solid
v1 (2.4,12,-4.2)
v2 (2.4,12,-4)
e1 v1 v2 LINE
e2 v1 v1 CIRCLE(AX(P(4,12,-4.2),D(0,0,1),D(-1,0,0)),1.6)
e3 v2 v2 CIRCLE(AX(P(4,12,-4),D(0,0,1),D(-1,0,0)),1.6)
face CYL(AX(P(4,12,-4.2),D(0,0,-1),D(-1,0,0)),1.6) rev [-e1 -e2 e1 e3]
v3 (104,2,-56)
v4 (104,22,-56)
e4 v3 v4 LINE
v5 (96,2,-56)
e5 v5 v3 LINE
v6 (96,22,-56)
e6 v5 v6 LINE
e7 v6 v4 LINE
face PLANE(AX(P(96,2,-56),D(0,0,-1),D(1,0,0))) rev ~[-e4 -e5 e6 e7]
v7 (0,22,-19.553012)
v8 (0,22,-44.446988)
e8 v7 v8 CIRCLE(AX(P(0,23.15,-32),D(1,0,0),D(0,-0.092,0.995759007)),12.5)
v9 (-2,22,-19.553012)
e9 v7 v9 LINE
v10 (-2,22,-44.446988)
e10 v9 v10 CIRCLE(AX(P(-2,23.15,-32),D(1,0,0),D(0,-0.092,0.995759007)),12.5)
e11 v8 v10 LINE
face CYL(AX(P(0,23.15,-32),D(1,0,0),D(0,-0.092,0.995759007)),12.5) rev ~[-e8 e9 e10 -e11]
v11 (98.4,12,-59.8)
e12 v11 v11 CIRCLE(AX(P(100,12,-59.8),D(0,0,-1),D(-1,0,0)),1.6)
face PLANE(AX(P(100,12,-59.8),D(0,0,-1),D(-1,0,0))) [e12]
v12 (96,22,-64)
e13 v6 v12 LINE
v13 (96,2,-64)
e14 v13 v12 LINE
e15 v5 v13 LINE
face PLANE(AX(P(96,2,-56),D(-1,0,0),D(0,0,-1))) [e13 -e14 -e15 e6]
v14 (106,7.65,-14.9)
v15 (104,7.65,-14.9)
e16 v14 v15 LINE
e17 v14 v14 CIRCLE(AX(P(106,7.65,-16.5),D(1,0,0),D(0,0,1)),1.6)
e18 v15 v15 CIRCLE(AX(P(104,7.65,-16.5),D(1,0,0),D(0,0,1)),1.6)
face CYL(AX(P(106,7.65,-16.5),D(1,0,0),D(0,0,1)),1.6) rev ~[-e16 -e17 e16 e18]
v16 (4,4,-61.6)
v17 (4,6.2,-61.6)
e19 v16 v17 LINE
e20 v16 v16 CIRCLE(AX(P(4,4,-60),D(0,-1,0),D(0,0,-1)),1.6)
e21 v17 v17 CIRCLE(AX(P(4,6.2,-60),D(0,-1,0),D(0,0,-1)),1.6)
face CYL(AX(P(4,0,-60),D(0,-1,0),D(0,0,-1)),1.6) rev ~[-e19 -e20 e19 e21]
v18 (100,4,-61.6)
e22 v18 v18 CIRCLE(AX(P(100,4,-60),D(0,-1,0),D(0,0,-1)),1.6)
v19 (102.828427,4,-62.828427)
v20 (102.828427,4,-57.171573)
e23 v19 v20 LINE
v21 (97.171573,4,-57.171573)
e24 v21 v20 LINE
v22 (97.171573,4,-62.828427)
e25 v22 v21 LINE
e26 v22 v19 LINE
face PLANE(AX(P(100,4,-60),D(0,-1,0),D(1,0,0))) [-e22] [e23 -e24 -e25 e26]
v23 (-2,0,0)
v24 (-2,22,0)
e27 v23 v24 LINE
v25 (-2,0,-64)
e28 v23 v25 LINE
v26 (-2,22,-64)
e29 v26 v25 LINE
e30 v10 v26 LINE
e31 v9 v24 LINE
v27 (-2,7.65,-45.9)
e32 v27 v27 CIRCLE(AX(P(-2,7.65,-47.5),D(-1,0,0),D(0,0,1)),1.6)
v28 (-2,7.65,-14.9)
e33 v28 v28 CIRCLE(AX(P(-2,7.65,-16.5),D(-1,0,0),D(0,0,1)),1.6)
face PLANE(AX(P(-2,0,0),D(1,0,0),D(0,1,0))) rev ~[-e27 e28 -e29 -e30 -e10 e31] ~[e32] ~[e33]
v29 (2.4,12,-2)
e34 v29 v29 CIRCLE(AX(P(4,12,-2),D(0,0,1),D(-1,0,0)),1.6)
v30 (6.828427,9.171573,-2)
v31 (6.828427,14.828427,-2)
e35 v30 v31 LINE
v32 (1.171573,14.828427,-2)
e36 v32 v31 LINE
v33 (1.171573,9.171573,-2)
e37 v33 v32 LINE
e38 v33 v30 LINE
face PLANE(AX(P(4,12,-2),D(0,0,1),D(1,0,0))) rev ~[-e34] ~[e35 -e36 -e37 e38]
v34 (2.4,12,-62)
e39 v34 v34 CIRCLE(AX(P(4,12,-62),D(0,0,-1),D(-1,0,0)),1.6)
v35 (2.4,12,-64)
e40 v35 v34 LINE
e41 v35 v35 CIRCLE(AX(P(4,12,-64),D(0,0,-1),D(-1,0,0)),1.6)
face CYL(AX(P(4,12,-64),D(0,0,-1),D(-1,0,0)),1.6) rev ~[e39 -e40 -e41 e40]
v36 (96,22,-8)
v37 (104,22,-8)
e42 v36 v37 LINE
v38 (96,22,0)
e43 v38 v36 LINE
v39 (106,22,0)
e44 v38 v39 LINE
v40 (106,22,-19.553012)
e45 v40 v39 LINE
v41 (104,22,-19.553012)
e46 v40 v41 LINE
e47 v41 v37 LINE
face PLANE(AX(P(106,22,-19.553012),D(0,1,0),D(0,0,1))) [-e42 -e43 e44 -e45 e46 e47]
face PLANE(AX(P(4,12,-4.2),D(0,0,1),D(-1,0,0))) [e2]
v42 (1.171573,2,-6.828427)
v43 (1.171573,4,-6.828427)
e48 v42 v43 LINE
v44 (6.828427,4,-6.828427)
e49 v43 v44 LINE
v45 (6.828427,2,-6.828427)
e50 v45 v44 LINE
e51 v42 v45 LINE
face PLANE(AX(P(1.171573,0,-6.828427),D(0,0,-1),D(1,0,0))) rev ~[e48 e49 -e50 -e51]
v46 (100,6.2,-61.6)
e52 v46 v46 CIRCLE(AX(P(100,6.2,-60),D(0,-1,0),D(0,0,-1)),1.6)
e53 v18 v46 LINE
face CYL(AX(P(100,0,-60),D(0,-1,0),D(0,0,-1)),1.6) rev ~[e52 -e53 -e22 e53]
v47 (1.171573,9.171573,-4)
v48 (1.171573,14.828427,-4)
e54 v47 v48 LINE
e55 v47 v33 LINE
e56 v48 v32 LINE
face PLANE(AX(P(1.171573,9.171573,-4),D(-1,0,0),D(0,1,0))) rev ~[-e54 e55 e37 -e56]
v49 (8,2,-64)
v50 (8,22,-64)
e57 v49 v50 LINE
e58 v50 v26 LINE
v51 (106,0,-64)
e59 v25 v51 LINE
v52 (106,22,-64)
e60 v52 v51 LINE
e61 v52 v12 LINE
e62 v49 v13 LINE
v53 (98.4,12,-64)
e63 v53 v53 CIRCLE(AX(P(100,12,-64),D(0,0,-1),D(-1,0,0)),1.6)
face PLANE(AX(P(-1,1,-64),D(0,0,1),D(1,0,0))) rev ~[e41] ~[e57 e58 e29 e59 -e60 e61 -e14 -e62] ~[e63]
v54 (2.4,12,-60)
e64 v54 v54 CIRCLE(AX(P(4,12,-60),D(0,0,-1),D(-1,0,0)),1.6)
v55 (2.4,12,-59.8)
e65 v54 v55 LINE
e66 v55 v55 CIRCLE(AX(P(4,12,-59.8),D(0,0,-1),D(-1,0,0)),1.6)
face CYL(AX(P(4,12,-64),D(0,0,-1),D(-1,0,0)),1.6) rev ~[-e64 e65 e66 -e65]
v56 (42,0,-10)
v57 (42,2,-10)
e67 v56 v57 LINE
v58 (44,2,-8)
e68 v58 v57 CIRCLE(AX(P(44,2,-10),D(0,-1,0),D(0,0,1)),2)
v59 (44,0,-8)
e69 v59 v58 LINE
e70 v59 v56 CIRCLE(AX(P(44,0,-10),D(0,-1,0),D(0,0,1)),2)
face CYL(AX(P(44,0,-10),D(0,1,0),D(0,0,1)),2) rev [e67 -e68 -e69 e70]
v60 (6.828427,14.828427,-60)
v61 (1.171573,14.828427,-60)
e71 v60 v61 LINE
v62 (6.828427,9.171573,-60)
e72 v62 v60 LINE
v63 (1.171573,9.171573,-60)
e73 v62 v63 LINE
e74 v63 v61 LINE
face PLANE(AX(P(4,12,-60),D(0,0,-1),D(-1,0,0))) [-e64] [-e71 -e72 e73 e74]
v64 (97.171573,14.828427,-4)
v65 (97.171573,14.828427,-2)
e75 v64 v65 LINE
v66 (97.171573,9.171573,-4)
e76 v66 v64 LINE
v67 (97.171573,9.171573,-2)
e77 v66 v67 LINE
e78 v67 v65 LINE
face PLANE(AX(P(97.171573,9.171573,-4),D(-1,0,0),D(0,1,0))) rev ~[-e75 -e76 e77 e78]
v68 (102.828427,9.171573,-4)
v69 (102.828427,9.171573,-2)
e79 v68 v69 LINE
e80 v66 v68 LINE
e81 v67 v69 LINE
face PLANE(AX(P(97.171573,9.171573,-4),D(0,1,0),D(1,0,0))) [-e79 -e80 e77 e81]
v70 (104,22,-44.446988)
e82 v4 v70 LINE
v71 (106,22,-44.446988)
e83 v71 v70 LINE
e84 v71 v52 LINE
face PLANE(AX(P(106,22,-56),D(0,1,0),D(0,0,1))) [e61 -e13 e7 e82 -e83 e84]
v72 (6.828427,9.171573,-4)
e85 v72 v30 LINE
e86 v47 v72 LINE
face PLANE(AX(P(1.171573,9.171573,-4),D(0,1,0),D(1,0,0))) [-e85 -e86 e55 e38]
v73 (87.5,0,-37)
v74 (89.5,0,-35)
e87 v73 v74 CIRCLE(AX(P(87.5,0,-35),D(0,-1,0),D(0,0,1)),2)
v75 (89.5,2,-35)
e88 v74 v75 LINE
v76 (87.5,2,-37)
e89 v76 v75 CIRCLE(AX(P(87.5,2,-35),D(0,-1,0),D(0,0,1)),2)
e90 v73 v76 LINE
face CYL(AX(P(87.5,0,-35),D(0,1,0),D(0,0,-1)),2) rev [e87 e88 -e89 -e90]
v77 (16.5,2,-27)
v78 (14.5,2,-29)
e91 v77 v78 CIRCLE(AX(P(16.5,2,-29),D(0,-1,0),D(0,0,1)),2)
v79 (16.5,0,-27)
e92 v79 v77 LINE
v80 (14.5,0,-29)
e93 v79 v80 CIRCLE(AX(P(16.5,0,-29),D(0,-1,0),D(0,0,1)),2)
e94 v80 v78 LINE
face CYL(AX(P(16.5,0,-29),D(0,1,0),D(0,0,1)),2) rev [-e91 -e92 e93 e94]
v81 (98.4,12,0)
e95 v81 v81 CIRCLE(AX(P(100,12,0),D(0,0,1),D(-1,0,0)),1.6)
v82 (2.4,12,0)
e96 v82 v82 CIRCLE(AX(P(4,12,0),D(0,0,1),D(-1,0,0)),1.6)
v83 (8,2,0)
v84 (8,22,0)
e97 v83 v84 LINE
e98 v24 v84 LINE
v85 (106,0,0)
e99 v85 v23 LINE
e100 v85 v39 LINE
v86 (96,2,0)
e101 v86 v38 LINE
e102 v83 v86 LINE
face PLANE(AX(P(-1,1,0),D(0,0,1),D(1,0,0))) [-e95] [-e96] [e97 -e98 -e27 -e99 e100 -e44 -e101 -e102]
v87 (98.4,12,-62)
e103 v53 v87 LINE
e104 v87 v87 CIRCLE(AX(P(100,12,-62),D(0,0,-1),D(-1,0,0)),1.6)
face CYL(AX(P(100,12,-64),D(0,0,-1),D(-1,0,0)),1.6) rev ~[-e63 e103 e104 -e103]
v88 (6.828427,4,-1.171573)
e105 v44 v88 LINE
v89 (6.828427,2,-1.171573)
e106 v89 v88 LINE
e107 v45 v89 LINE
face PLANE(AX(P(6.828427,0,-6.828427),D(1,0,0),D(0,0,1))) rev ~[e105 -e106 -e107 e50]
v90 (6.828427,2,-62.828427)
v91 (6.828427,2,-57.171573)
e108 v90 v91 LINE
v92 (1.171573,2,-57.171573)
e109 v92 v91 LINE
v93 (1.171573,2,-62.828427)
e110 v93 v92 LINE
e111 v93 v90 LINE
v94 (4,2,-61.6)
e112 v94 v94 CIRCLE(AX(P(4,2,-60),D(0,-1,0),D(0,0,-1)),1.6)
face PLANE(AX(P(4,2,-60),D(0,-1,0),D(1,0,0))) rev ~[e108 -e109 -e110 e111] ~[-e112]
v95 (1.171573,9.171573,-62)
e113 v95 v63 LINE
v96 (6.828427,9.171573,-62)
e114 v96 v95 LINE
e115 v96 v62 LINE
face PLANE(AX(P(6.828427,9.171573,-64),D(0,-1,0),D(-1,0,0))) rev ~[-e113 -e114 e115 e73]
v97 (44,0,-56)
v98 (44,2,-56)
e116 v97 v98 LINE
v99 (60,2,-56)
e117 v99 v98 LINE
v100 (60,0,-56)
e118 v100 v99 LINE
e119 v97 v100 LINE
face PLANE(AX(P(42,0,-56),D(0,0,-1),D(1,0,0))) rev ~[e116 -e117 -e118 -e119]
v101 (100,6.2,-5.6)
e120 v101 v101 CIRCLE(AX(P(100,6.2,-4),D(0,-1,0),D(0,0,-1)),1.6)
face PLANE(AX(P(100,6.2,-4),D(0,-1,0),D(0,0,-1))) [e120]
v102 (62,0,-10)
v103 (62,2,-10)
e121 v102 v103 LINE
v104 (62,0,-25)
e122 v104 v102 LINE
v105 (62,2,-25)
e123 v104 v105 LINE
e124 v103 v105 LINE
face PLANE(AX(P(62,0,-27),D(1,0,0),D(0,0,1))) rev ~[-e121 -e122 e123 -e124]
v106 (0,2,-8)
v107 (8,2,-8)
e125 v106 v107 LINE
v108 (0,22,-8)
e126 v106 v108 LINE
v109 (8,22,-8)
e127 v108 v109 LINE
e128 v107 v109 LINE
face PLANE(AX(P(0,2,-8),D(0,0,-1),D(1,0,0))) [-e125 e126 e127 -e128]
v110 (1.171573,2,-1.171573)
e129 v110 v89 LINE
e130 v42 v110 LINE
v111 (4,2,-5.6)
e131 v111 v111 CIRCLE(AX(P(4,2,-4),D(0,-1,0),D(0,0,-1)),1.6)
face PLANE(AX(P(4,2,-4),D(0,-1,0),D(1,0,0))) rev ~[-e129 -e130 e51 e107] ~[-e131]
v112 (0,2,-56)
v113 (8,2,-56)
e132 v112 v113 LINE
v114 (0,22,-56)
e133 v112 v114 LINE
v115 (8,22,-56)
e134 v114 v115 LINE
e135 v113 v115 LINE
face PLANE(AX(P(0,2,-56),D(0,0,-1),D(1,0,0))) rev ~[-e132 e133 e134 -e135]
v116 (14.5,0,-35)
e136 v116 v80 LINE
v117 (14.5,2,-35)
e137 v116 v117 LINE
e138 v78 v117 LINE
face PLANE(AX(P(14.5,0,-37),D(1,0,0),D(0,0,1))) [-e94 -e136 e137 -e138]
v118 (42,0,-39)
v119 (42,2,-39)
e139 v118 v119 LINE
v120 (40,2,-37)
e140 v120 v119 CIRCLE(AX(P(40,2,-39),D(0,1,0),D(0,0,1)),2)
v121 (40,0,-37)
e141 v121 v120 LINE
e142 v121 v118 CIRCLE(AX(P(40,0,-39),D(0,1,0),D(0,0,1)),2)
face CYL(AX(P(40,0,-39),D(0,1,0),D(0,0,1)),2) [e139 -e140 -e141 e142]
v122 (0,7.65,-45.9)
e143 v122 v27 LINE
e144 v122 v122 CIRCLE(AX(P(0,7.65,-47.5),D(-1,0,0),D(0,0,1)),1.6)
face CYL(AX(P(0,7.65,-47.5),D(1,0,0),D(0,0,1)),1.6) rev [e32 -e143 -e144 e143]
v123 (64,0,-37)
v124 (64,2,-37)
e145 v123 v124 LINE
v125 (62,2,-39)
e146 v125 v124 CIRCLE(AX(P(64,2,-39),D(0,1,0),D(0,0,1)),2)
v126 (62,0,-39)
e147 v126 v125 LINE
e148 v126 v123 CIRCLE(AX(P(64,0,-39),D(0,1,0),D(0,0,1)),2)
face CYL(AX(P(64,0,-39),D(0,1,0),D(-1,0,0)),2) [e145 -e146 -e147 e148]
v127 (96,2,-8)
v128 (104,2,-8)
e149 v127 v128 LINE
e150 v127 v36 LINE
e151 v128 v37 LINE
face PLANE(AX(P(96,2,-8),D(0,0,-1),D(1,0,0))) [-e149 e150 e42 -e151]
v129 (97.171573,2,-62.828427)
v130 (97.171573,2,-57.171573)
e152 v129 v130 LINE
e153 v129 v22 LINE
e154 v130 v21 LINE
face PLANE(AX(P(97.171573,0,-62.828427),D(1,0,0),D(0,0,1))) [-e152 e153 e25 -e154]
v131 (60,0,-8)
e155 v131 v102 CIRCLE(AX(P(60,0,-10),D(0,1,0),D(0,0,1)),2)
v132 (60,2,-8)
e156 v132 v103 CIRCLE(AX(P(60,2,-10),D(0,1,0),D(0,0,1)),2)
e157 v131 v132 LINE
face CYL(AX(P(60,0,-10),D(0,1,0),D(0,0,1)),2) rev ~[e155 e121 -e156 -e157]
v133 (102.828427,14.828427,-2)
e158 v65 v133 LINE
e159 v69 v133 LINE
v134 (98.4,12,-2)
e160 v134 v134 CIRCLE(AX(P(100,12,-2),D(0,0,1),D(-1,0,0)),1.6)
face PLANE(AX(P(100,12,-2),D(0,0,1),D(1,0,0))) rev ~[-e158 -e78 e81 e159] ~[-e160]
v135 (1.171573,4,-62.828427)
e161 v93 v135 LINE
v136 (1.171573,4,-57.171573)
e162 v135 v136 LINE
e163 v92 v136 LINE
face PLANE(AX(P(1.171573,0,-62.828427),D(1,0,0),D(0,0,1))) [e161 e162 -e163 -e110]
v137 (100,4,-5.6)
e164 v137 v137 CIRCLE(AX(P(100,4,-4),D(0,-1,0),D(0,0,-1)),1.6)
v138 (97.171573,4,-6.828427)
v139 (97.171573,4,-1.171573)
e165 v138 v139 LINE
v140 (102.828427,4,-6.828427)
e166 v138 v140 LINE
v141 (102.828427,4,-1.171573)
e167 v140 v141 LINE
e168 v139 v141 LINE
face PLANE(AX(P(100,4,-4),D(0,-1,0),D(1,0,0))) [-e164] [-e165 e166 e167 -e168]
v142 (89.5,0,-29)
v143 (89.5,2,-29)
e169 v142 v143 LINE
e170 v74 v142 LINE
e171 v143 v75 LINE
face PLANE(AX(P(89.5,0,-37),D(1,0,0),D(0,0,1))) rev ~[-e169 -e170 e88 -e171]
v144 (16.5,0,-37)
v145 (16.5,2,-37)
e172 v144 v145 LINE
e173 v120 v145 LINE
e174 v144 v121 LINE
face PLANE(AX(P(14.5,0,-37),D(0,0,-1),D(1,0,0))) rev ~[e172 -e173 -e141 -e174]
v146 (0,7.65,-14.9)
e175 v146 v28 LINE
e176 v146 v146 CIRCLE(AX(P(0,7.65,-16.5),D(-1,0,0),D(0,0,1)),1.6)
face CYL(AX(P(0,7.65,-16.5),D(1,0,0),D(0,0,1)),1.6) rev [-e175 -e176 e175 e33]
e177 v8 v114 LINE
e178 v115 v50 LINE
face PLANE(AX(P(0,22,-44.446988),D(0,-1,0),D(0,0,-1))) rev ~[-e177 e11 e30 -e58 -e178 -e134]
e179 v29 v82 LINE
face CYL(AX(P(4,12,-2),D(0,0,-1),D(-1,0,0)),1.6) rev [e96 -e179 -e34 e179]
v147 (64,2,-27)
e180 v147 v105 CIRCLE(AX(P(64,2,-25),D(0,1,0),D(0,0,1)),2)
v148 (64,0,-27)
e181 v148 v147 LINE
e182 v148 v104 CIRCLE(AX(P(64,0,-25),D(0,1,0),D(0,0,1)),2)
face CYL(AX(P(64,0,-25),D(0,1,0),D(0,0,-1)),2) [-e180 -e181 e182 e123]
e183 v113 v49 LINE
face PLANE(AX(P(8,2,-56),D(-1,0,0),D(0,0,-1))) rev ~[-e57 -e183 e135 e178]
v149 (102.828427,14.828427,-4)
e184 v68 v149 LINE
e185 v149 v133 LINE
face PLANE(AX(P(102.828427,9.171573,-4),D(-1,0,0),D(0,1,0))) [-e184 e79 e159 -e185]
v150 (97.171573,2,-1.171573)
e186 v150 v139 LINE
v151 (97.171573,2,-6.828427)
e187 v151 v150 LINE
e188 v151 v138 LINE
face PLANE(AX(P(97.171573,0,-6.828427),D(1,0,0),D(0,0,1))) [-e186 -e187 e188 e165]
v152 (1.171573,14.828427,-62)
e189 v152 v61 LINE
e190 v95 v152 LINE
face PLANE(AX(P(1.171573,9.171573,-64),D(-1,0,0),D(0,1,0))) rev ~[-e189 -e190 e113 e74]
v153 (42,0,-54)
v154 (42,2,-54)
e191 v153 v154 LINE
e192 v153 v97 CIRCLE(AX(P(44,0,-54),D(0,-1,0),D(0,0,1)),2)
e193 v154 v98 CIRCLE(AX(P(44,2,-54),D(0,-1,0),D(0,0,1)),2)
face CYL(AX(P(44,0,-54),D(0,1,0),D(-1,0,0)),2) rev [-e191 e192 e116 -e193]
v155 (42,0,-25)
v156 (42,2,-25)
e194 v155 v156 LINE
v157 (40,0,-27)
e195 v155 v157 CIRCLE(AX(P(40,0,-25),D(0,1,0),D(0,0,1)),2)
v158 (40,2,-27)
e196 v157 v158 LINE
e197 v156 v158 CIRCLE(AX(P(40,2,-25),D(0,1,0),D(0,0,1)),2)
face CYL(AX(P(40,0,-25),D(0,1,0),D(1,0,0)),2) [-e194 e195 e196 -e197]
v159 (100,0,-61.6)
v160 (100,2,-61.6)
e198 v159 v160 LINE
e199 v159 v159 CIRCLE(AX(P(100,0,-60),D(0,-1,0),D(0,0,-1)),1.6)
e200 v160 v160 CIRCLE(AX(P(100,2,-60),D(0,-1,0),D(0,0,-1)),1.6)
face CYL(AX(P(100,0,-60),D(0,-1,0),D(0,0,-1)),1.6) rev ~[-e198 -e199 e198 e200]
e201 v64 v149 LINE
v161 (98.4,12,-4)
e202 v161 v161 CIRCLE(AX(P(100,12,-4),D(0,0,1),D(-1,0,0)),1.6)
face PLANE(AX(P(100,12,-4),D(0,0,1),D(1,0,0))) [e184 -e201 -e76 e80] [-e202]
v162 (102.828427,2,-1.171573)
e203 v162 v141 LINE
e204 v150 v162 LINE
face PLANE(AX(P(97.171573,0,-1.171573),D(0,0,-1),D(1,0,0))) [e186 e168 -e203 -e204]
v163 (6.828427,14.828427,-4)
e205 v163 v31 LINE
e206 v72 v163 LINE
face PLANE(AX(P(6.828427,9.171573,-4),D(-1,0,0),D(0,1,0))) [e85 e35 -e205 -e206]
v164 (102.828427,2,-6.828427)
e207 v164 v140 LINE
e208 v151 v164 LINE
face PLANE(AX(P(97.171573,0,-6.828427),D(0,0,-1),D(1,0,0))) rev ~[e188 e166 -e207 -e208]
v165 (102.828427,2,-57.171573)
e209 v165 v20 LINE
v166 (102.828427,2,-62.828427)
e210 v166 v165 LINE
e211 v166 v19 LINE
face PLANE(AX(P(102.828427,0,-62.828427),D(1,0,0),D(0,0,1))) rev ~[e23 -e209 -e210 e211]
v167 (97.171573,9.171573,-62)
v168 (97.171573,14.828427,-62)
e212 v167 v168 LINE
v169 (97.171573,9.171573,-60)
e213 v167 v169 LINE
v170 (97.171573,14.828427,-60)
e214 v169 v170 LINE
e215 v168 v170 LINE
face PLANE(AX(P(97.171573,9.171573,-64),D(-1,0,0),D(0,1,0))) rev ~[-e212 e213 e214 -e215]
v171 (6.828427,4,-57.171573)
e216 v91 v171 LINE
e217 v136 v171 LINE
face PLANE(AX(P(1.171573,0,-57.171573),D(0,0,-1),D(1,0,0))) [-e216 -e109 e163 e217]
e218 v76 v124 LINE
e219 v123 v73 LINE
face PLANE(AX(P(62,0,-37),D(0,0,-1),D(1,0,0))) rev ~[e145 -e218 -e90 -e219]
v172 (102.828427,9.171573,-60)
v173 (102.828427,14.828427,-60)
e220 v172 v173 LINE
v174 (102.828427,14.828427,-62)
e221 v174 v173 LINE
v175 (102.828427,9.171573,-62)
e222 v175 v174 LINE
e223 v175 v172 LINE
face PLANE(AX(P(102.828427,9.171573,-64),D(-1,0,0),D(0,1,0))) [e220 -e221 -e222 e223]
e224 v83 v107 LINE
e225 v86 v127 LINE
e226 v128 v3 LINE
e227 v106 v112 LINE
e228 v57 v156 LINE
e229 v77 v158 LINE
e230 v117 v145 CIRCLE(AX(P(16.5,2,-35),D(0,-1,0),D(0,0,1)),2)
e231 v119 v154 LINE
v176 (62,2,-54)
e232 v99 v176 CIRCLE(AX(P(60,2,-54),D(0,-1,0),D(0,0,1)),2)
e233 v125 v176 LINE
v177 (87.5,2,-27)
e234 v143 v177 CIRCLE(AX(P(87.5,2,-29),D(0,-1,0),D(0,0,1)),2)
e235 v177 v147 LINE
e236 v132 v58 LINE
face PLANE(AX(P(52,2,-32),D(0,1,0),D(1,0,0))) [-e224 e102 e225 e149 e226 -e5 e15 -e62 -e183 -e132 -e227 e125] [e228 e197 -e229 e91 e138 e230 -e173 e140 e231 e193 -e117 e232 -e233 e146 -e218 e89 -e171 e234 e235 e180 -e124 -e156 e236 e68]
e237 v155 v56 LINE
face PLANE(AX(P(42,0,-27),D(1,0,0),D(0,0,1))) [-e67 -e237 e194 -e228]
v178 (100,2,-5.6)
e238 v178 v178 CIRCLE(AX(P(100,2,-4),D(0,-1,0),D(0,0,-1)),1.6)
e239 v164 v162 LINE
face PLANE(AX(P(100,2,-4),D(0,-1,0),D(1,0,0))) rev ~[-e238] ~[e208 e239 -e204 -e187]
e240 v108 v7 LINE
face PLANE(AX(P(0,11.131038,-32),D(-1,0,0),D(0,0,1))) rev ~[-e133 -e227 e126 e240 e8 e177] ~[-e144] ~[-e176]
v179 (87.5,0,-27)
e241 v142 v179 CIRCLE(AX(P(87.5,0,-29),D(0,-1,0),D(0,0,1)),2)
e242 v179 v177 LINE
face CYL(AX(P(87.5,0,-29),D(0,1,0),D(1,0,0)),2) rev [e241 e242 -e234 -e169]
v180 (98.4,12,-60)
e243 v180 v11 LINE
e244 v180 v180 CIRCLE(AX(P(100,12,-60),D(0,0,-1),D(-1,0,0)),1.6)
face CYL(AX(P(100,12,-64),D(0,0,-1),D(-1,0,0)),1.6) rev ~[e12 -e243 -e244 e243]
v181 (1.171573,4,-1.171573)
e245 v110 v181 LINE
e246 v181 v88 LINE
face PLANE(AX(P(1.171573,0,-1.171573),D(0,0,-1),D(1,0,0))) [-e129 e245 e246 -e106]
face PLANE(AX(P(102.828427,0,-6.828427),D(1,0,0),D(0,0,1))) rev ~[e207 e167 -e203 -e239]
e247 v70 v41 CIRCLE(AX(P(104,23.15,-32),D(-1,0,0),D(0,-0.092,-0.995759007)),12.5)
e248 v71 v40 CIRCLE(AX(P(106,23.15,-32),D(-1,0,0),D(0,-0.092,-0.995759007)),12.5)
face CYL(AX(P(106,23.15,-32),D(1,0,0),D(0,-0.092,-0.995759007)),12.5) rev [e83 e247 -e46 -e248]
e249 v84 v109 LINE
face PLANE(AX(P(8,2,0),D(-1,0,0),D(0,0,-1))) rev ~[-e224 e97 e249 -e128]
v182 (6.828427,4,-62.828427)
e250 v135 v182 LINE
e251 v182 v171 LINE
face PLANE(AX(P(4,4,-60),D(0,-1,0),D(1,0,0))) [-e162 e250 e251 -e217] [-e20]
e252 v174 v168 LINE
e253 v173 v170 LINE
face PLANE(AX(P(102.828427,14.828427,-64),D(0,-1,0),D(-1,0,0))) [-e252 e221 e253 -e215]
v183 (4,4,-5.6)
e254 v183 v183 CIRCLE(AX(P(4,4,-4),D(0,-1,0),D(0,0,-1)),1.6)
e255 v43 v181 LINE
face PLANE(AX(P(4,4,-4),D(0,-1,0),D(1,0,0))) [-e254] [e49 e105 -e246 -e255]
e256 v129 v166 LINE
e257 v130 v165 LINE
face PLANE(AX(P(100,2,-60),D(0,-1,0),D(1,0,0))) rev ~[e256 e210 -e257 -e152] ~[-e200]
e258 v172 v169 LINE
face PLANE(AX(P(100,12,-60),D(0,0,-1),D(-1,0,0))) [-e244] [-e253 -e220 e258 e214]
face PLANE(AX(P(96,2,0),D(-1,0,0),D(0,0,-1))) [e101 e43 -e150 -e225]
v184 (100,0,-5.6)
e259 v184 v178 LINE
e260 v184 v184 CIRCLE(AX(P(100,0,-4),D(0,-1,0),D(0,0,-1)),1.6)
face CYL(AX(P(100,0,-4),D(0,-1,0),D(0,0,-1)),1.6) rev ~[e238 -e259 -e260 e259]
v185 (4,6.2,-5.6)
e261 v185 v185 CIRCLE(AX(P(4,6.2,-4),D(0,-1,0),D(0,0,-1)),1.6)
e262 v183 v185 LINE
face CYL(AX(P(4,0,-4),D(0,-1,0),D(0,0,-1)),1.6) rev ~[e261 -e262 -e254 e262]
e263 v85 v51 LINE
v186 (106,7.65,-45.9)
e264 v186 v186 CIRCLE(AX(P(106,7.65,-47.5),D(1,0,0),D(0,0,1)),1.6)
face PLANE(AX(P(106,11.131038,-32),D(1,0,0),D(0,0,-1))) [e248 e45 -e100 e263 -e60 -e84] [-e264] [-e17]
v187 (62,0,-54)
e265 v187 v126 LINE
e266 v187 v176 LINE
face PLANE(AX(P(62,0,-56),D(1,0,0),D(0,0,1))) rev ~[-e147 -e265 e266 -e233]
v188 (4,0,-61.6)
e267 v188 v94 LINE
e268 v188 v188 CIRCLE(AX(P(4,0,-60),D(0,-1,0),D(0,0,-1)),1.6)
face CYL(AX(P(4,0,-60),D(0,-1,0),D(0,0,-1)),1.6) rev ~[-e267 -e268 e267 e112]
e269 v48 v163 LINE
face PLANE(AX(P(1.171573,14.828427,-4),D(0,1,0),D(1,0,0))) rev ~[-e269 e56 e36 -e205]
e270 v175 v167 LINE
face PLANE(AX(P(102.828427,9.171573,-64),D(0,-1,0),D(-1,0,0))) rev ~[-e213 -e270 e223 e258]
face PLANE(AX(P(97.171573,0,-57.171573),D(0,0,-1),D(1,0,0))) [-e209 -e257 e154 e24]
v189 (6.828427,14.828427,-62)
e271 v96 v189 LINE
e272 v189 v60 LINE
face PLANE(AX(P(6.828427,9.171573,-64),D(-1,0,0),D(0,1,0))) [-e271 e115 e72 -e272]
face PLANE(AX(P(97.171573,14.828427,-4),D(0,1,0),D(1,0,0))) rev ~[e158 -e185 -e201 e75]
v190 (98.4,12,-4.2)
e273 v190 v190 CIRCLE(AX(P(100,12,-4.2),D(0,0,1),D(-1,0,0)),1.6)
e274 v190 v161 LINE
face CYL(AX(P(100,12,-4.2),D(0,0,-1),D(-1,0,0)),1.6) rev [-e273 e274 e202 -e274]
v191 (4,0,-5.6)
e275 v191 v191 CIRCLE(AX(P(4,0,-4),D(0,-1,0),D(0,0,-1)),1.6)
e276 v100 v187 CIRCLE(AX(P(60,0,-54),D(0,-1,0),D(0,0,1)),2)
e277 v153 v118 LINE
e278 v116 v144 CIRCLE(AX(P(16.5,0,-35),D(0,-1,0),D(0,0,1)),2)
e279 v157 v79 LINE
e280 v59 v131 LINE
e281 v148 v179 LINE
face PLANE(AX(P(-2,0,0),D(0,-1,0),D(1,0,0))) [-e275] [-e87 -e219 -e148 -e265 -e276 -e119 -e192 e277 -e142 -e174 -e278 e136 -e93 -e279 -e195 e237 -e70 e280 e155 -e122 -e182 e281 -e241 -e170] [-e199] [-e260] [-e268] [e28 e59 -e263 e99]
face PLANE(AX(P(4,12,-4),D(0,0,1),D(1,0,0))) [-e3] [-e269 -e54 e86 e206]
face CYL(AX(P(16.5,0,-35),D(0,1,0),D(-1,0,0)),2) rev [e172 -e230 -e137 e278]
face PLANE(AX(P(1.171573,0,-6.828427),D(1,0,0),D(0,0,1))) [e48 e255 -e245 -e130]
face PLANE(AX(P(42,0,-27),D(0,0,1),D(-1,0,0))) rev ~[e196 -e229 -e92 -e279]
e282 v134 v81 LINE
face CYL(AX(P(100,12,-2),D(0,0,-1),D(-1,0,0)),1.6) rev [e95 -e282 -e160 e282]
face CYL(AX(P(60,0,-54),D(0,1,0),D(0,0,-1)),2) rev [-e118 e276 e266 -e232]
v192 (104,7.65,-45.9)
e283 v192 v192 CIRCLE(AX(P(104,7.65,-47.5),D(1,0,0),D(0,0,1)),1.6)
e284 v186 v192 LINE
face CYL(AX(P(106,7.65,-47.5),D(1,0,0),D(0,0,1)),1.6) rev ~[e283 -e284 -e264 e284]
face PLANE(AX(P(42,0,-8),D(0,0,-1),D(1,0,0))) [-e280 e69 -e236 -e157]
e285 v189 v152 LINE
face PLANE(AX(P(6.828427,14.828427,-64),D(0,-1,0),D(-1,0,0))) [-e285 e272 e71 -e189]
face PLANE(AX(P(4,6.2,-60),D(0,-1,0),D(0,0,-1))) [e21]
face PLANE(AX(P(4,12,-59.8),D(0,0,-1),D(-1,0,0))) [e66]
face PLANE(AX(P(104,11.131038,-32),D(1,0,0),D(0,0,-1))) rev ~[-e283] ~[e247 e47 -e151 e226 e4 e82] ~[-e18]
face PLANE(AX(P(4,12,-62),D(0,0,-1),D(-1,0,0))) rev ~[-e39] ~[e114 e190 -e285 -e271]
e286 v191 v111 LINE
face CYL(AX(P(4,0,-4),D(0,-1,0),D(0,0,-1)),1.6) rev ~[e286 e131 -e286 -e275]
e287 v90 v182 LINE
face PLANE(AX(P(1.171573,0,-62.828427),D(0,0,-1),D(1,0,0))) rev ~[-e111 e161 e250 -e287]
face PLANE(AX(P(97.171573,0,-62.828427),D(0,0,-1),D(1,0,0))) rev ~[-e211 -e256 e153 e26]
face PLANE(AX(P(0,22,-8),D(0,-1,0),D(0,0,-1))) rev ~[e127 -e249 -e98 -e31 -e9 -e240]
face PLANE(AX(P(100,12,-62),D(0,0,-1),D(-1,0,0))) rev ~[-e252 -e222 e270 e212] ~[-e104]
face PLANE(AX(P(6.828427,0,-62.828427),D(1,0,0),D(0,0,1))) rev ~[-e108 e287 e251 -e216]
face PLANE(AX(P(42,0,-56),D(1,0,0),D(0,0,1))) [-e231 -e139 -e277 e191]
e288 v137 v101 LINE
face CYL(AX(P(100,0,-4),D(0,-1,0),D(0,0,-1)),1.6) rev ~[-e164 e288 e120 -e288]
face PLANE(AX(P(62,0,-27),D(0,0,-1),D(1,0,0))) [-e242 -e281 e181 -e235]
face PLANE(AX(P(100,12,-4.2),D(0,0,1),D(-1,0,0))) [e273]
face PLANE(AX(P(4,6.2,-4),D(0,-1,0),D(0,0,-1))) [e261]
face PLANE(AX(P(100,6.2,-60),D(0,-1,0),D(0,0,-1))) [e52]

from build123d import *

# Parameters (mm, degrees)
SZKIC1_W                    = 104
SZKIC1_H                    = 64
DODANIE_WYCI_GNI_CIE1_DEPTH = 2
SZKIC2_W                    = 8
SZKIC2_H                    = 8
DODANIE_WYCI_GNI_CIE2_DEPTH = 20
SZKIC4_R                    = 1.6
DODANIE_WYCI_GNI_CIE3_DEPTH = 2
DODANIE_WYCI_GNI_CIE4_START = 2
SZKIC5_R                    = 1.6
DODANIE_WYCI_GNI_CIE4_DEPTH = 2
SFAZOWANIE1_SIZE            = 2
SZKIC6_W                    = 5.65685425
SZKIC6_H                    = 5.65685425
SZKIC6_R                    = 1.6
WYTNIJ_WYCI_GNI_CIE2_DEPTH  = 4
SZKIC6_AGAIN_R              = 1.6
WYTNIJ_WYCI_GNI_CIE3_DEPTH  = 6.2
DODANIE_WYCI_GNI_CIE5_DEPTH = 2
SZKIC8_W                    = 5.65685425
SZKIC8_H                    = 5.65685425
SZKIC8_R                    = 1.6
WYTNIJ_WYCI_GNI_CIE4_DEPTH  = 4
SZKIC8_2_R                  = 1.6
WYTNIJ_WYCI_GNI_CIE5_DEPTH  = 4.2
SZKIC8_3_W                  = 5.65685425
SZKIC8_3_H                  = 5.65685425
SZKIC8_3_R                  = 1.6
DODANIE_WYCI_GNI_CIE6_DEPTH = 2
WYTNIJ_WYCI_GNI_CIE6_START  = -4
SZKIC9_W                    = 5.65685425
SZKIC9_H                    = 5.65685425
SZKIC9_R                    = 1.6
WYTNIJ_WYCI_GNI_CIE6_DEPTH  = 4
WYTNIJ_WYCI_GNI_CIE7_START  = -4.2
SZKIC9_2_R                  = 1.6
WYTNIJ_WYCI_GNI_CIE7_DEPTH  = 4.2
DODANIE_WYCI_GNI_CIE7_START = -2
SZKIC9_3_W                  = 5.65685425
SZKIC9_3_H                  = 5.65685425
SZKIC9_3_R                  = 1.6
DODANIE_WYCI_GNI_CIE7_DEPTH = 2
SZKIC10_W                   = 20
SZKIC10_H                   = 10
SZKIC10_W_2                 = 27.5
SZKIC10_H_2                 = 19
WYTNIJ_WYCI_GNI_CIE8_DEPTH  = 9
SZKIC11_W                   = 2
SZKIC11_H                   = 2
DODANIE_WYCI_GNI_CIE8_DEPTH = 64
ZAOKR_GLENIE1_R             = 2


with BuildPart() as part:
    # Szkic1 → Dodanie-wyciągnięcie1 (new body)
    with BuildSketch(Plane(origin=(0, 0, 0), x_dir=(1, 0, 0), z_dir=(0, 1, 0))):
        with Locations((52, 32)):
            Rectangle(SZKIC1_W, SZKIC1_H)
    extrude(amount=DODANIE_WYCI_GNI_CIE1_DEPTH)

    # Szkic2 → Dodanie-wyciągnięcie2 (add)
    with BuildSketch(Plane(origin=(0, 2, 0), x_dir=(1, 0, 0), z_dir=(0, 1, 0))):
        with Locations((4, 60)):
            Rectangle(SZKIC2_W, SZKIC2_H)
        with Locations((4, 4)):
            Rectangle(SZKIC2_W, SZKIC2_H)
        with Locations((100, 4)):
            Rectangle(SZKIC2_W, SZKIC2_H)
        with Locations((100, 60)):
            Rectangle(SZKIC2_W, SZKIC2_H)
    extrude(amount=DODANIE_WYCI_GNI_CIE2_DEPTH)

    # Szkic4 → Dodanie-wyciągnięcie3 (add)
    # profile 1 of 2: a face of its own
    with BuildSketch(Plane.ZY):
        with BuildLine():
            Line((-8, 2), (-8, 22))
            Line((-8, 22), (-19.553012413, 22))
            ThreePointArc((-19.553012413, 22), (-32, 10.65), (-44.446987587, 22))
            Line((-44.446987587, 22), (-56, 22))
            Line((-56, 22), (-56, 2))
            Line((-56, 2), (-8, 2))
        make_face()
        with Locations((-47.5, 7.65)):
            Circle(SZKIC4_R, mode=Mode.SUBTRACT)
        with Locations((-16.5, 7.65)):
            Circle(SZKIC4_R, mode=Mode.SUBTRACT)
    # profile 2 of 2: a face of its own
    with BuildSketch(Plane.ZY):
        Polygon((-64, 22), (-64, 0), (0, 0), (0, 22), (-8, 22), (-8, 2), (-56, 2), (-56, 22), align=None)
    extrude(amount=DODANIE_WYCI_GNI_CIE3_DEPTH)

    # Szkic5 → Dodanie-wyciągnięcie4 (add)
    # profile 1 of 2: a face of its own
    with BuildSketch(Plane(origin=(104, 0, 0), x_dir=(0, 0, -1), z_dir=(1, 0, 0)).offset(DODANIE_WYCI_GNI_CIE4_START)):
        with BuildLine():
            Line((56, 2), (56, 22))
            Line((56, 22), (44.446987587, 22))
            ThreePointArc((44.446987587, 22), (32, 10.65), (19.553012413, 22))
            Line((19.553012413, 22), (8, 22))
            Line((8, 22), (8, 2))
            Line((8, 2), (56, 2))
        make_face()
        with Locations(Location((16.5, 7.65, 0), (0, 0, 180))):
            Circle(SZKIC5_R, mode=Mode.SUBTRACT)
        with Locations(Location((47.5, 7.65, 0), (0, 0, 180))):
            Circle(SZKIC5_R, mode=Mode.SUBTRACT)
    # profile 2 of 2: a face of its own
    with BuildSketch(Plane(origin=(104, 0, 0), x_dir=(0, 0, -1), z_dir=(1, 0, 0)).offset(DODANIE_WYCI_GNI_CIE4_START)):
        Polygon((0, 22), (0, 0), (64, 0), (64, 22), (56, 22), (56, 2), (8, 2), (8, 22), align=None)
    extrude(amount=-DODANIE_WYCI_GNI_CIE4_DEPTH)

    # Sfazowanie1
    sfazowanie1_edges = [part.edges().sort_by_distance(p)[0] for p in [
        (-2, 0, -32),
        (106, 0, -32),
    ]]
    chamfer(sfazowanie1_edges, length=SFAZOWANIE1_SIZE)

    # Szkic6 → Wytnij-wyciągnięcie2 (cut)
    # profile 1 of 4: a face of its own
    with BuildSketch(Plane.XZ):
        with Locations((4, -4)):
            Rectangle(SZKIC6_W, SZKIC6_H)
        with Locations(Location((4, -4, 0), (0, 0, 270))):
            Circle(SZKIC6_R, mode=Mode.SUBTRACT)
    # profile 2 of 4: a face of its own
    with BuildSketch(Plane.XZ):
        with Locations((4, -60)):
            Rectangle(SZKIC6_W, SZKIC6_H)
        with Locations(Location((4, -60, 0), (0, 0, 270))):
            Circle(SZKIC6_R, mode=Mode.SUBTRACT)
    # profile 3 of 4: a face of its own
    with BuildSketch(Plane.XZ):
        with Locations((100, -60)):
            Rectangle(SZKIC6_W, SZKIC6_H)
        with Locations(Location((100, -60, 0), (0, 0, 270))):
            Circle(SZKIC6_R, mode=Mode.SUBTRACT)
    # profile 4 of 4: a face of its own
    with BuildSketch(Plane.XZ):
        with Locations((100, -4)):
            Rectangle(SZKIC6_W, SZKIC6_H)
        with Locations(Location((100, -4, 0), (0, 0, 270))):
            Circle(SZKIC6_R, mode=Mode.SUBTRACT)
    extrude(amount=-WYTNIJ_WYCI_GNI_CIE2_DEPTH, mode=Mode.SUBTRACT)

    # Szkic6 again → Wytnij-wyciągnięcie3 (cut)
    with BuildSketch(Plane.XZ):
        with Locations(Location((4, -4, 0), (0, 0, 270))):
            Circle(SZKIC6_AGAIN_R)
        with Locations(Location((4, -60, 0), (0, 0, 270))):
            Circle(SZKIC6_AGAIN_R)
        with Locations(Location((100, -60, 0), (0, 0, 270))):
            Circle(SZKIC6_AGAIN_R)
        with Locations(Location((100, -4, 0), (0, 0, 270))):
            Circle(SZKIC6_AGAIN_R)
    extrude(amount=-WYTNIJ_WYCI_GNI_CIE3_DEPTH, mode=Mode.SUBTRACT)

    # Szkic6 → Dodanie-wyciągnięcie5 (add)
    # profile 1 of 4: a face of its own
    with BuildSketch(Plane.XZ):
        with Locations((4, -4)):
            Rectangle(SZKIC6_W, SZKIC6_H)
        with Locations(Location((4, -4, 0), (0, 0, 270))):
            Circle(SZKIC6_R, mode=Mode.SUBTRACT)
    # profile 2 of 4: a face of its own
    with BuildSketch(Plane.XZ):
        with Locations((4, -60)):
            Rectangle(SZKIC6_W, SZKIC6_H)
        with Locations(Location((4, -60, 0), (0, 0, 270))):
            Circle(SZKIC6_R, mode=Mode.SUBTRACT)
    # profile 3 of 4: a face of its own
    with BuildSketch(Plane.XZ):
        with Locations((100, -60)):
            Rectangle(SZKIC6_W, SZKIC6_H)
        with Locations(Location((100, -60, 0), (0, 0, 270))):
            Circle(SZKIC6_R, mode=Mode.SUBTRACT)
    # profile 4 of 4: a face of its own
    with BuildSketch(Plane.XZ):
        with Locations((100, -4)):
            Rectangle(SZKIC6_W, SZKIC6_H)
        with Locations(Location((100, -4, 0), (0, 0, 270))):
            Circle(SZKIC6_R, mode=Mode.SUBTRACT)
    extrude(amount=-DODANIE_WYCI_GNI_CIE5_DEPTH)

    # Szkic8 → Wytnij-wyciągnięcie4 (cut)
    # profile 1 of 2: a face of its own
    with BuildSketch(Plane(origin=(0, 0, -64), x_dir=(-1, 0, 0), z_dir=(0, 0, -1))):
        with Locations((-4, 12)):
            Rectangle(SZKIC8_W, SZKIC8_H)
        with Locations((-4, 12)):
            Circle(SZKIC8_R, mode=Mode.SUBTRACT)
    # profile 2 of 2: a face of its own
    with BuildSketch(Plane(origin=(0, 0, -64), x_dir=(-1, 0, 0), z_dir=(0, 0, -1))):
        with Locations((-100, 12)):
            Rectangle(SZKIC8_W, SZKIC8_H)
        with Locations((-100, 12)):
            Circle(SZKIC8_R, mode=Mode.SUBTRACT)
    extrude(amount=-WYTNIJ_WYCI_GNI_CIE4_DEPTH, mode=Mode.SUBTRACT)

    # Szkic8<2> → Wytnij-wyciągnięcie5 (cut)
    with BuildSketch(Plane(origin=(0, 0, -64), x_dir=(-1, 0, 0), z_dir=(0, 0, -1))):
        with Locations((-4, 12)):
            Circle(SZKIC8_2_R)
        with Locations((-100, 12)):
            Circle(SZKIC8_2_R)
    extrude(amount=-WYTNIJ_WYCI_GNI_CIE5_DEPTH, mode=Mode.SUBTRACT)

    # Szkic8<3> → Dodanie-wyciągnięcie6 (add)
    # profile 1 of 2: a face of its own
    with BuildSketch(Plane(origin=(0, 0, -64), x_dir=(-1, 0, 0), z_dir=(0, 0, -1))):
        with Locations((-4, 12)):
            Rectangle(SZKIC8_3_W, SZKIC8_3_H)
        with Locations((-4, 12)):
            Circle(SZKIC8_3_R, mode=Mode.SUBTRACT)
    # profile 2 of 2: a face of its own
    with BuildSketch(Plane(origin=(0, 0, -64), x_dir=(-1, 0, 0), z_dir=(0, 0, -1))):
        with Locations((-100, 12)):
            Rectangle(SZKIC8_3_W, SZKIC8_3_H)
        with Locations((-100, 12)):
            Circle(SZKIC8_3_R, mode=Mode.SUBTRACT)
    extrude(amount=-DODANIE_WYCI_GNI_CIE6_DEPTH)

    # Szkic9 → Wytnij-wyciągnięcie6 (cut)
    # profile 1 of 2: a face of its own
    with BuildSketch(Plane.XY.offset(WYTNIJ_WYCI_GNI_CIE6_START)):
        with Locations((100, 12)):
            Rectangle(SZKIC9_W, SZKIC9_H)
        with Locations(Location((100, 12, 0), (0, 0, 180))):
            Circle(SZKIC9_R, mode=Mode.SUBTRACT)
    # profile 2 of 2: a face of its own
    with BuildSketch(Plane.XY.offset(WYTNIJ_WYCI_GNI_CIE6_START)):
        with Locations((4, 12)):
            Rectangle(SZKIC9_W, SZKIC9_H)
        with Locations(Location((4, 12, 0), (0, 0, 180))):
            Circle(SZKIC9_R, mode=Mode.SUBTRACT)
    extrude(amount=WYTNIJ_WYCI_GNI_CIE6_DEPTH, mode=Mode.SUBTRACT)

    # Szkic9<2> → Wytnij-wyciągnięcie7 (cut)
    with BuildSketch(Plane.XY.offset(WYTNIJ_WYCI_GNI_CIE7_START)):
        with Locations(Location((100, 12, 0), (0, 0, 180))):
            Circle(SZKIC9_2_R)
        with Locations(Location((4, 12, 0), (0, 0, 180))):
            Circle(SZKIC9_2_R)
    extrude(amount=WYTNIJ_WYCI_GNI_CIE7_DEPTH, mode=Mode.SUBTRACT)

    # Szkic9<3> → Dodanie-wyciągnięcie7 (add)
    # profile 1 of 2: a face of its own
    with BuildSketch(Plane.XY.offset(DODANIE_WYCI_GNI_CIE7_START)):
        with Locations((100, 12)):
            Rectangle(SZKIC9_3_W, SZKIC9_3_H)
        with Locations(Location((100, 12, 0), (0, 0, 180))):
            Circle(SZKIC9_3_R, mode=Mode.SUBTRACT)
    # profile 2 of 2: a face of its own
    with BuildSketch(Plane.XY.offset(DODANIE_WYCI_GNI_CIE7_START)):
        with Locations((4, 12)):
            Rectangle(SZKIC9_3_W, SZKIC9_3_H)
        with Locations(Location((4, 12, 0), (0, 0, 180))):
            Circle(SZKIC9_3_R, mode=Mode.SUBTRACT)
    extrude(amount=DODANIE_WYCI_GNI_CIE7_DEPTH)

    # Szkic10 → Wytnij-wyciągnięcie8 (cut)
    with BuildSketch(Plane.XZ):
        with Locations((52, -32)):
            Rectangle(SZKIC10_W, SZKIC10_H)
        with Locations((28.25, -32)):
            Rectangle(SZKIC10_W_2, SZKIC10_H)
        with Locations((52, -17.5)):
            Rectangle(SZKIC10_W, SZKIC10_H_2)
        with Locations((52, -46.5)):
            Rectangle(SZKIC10_W, SZKIC10_H_2)
        with Locations((75.75, -32)):
            Rectangle(SZKIC10_W_2, SZKIC10_H)
    extrude(amount=-WYTNIJ_WYCI_GNI_CIE8_DEPTH, mode=Mode.SUBTRACT)

    # Szkic11 → Dodanie-wyciągnięcie8 (add)
    with BuildSketch(Plane.XY):
        with Locations((-1, 1)):
            Rectangle(SZKIC11_W, SZKIC11_H)
        with Locations((105, 1)):
            Rectangle(SZKIC11_W, SZKIC11_H)
    extrude(amount=-DODANIE_WYCI_GNI_CIE8_DEPTH)

    # Zaokrąglenie1
    zaokr_glenie1_edges = [part.edges().sort_by_distance(p)[0] for p in [
        (42, 1, -37),
        (14.5, 1, -37),
        (14.5, 1, -27),
        (42, 1, -27),
        (42, 1, -8),
        (62, 1, -8),
        (62, 1, -27),
        (89.5, 1, -27),
        (89.5, 1, -37),
        (62, 1, -37),
        (62, 1, -56),
        (42, 1, -56),
    ]]
    fillet(zaokr_glenie1_edges, radius=ZAOKR_GLENIE1_R)


solid = part.part
